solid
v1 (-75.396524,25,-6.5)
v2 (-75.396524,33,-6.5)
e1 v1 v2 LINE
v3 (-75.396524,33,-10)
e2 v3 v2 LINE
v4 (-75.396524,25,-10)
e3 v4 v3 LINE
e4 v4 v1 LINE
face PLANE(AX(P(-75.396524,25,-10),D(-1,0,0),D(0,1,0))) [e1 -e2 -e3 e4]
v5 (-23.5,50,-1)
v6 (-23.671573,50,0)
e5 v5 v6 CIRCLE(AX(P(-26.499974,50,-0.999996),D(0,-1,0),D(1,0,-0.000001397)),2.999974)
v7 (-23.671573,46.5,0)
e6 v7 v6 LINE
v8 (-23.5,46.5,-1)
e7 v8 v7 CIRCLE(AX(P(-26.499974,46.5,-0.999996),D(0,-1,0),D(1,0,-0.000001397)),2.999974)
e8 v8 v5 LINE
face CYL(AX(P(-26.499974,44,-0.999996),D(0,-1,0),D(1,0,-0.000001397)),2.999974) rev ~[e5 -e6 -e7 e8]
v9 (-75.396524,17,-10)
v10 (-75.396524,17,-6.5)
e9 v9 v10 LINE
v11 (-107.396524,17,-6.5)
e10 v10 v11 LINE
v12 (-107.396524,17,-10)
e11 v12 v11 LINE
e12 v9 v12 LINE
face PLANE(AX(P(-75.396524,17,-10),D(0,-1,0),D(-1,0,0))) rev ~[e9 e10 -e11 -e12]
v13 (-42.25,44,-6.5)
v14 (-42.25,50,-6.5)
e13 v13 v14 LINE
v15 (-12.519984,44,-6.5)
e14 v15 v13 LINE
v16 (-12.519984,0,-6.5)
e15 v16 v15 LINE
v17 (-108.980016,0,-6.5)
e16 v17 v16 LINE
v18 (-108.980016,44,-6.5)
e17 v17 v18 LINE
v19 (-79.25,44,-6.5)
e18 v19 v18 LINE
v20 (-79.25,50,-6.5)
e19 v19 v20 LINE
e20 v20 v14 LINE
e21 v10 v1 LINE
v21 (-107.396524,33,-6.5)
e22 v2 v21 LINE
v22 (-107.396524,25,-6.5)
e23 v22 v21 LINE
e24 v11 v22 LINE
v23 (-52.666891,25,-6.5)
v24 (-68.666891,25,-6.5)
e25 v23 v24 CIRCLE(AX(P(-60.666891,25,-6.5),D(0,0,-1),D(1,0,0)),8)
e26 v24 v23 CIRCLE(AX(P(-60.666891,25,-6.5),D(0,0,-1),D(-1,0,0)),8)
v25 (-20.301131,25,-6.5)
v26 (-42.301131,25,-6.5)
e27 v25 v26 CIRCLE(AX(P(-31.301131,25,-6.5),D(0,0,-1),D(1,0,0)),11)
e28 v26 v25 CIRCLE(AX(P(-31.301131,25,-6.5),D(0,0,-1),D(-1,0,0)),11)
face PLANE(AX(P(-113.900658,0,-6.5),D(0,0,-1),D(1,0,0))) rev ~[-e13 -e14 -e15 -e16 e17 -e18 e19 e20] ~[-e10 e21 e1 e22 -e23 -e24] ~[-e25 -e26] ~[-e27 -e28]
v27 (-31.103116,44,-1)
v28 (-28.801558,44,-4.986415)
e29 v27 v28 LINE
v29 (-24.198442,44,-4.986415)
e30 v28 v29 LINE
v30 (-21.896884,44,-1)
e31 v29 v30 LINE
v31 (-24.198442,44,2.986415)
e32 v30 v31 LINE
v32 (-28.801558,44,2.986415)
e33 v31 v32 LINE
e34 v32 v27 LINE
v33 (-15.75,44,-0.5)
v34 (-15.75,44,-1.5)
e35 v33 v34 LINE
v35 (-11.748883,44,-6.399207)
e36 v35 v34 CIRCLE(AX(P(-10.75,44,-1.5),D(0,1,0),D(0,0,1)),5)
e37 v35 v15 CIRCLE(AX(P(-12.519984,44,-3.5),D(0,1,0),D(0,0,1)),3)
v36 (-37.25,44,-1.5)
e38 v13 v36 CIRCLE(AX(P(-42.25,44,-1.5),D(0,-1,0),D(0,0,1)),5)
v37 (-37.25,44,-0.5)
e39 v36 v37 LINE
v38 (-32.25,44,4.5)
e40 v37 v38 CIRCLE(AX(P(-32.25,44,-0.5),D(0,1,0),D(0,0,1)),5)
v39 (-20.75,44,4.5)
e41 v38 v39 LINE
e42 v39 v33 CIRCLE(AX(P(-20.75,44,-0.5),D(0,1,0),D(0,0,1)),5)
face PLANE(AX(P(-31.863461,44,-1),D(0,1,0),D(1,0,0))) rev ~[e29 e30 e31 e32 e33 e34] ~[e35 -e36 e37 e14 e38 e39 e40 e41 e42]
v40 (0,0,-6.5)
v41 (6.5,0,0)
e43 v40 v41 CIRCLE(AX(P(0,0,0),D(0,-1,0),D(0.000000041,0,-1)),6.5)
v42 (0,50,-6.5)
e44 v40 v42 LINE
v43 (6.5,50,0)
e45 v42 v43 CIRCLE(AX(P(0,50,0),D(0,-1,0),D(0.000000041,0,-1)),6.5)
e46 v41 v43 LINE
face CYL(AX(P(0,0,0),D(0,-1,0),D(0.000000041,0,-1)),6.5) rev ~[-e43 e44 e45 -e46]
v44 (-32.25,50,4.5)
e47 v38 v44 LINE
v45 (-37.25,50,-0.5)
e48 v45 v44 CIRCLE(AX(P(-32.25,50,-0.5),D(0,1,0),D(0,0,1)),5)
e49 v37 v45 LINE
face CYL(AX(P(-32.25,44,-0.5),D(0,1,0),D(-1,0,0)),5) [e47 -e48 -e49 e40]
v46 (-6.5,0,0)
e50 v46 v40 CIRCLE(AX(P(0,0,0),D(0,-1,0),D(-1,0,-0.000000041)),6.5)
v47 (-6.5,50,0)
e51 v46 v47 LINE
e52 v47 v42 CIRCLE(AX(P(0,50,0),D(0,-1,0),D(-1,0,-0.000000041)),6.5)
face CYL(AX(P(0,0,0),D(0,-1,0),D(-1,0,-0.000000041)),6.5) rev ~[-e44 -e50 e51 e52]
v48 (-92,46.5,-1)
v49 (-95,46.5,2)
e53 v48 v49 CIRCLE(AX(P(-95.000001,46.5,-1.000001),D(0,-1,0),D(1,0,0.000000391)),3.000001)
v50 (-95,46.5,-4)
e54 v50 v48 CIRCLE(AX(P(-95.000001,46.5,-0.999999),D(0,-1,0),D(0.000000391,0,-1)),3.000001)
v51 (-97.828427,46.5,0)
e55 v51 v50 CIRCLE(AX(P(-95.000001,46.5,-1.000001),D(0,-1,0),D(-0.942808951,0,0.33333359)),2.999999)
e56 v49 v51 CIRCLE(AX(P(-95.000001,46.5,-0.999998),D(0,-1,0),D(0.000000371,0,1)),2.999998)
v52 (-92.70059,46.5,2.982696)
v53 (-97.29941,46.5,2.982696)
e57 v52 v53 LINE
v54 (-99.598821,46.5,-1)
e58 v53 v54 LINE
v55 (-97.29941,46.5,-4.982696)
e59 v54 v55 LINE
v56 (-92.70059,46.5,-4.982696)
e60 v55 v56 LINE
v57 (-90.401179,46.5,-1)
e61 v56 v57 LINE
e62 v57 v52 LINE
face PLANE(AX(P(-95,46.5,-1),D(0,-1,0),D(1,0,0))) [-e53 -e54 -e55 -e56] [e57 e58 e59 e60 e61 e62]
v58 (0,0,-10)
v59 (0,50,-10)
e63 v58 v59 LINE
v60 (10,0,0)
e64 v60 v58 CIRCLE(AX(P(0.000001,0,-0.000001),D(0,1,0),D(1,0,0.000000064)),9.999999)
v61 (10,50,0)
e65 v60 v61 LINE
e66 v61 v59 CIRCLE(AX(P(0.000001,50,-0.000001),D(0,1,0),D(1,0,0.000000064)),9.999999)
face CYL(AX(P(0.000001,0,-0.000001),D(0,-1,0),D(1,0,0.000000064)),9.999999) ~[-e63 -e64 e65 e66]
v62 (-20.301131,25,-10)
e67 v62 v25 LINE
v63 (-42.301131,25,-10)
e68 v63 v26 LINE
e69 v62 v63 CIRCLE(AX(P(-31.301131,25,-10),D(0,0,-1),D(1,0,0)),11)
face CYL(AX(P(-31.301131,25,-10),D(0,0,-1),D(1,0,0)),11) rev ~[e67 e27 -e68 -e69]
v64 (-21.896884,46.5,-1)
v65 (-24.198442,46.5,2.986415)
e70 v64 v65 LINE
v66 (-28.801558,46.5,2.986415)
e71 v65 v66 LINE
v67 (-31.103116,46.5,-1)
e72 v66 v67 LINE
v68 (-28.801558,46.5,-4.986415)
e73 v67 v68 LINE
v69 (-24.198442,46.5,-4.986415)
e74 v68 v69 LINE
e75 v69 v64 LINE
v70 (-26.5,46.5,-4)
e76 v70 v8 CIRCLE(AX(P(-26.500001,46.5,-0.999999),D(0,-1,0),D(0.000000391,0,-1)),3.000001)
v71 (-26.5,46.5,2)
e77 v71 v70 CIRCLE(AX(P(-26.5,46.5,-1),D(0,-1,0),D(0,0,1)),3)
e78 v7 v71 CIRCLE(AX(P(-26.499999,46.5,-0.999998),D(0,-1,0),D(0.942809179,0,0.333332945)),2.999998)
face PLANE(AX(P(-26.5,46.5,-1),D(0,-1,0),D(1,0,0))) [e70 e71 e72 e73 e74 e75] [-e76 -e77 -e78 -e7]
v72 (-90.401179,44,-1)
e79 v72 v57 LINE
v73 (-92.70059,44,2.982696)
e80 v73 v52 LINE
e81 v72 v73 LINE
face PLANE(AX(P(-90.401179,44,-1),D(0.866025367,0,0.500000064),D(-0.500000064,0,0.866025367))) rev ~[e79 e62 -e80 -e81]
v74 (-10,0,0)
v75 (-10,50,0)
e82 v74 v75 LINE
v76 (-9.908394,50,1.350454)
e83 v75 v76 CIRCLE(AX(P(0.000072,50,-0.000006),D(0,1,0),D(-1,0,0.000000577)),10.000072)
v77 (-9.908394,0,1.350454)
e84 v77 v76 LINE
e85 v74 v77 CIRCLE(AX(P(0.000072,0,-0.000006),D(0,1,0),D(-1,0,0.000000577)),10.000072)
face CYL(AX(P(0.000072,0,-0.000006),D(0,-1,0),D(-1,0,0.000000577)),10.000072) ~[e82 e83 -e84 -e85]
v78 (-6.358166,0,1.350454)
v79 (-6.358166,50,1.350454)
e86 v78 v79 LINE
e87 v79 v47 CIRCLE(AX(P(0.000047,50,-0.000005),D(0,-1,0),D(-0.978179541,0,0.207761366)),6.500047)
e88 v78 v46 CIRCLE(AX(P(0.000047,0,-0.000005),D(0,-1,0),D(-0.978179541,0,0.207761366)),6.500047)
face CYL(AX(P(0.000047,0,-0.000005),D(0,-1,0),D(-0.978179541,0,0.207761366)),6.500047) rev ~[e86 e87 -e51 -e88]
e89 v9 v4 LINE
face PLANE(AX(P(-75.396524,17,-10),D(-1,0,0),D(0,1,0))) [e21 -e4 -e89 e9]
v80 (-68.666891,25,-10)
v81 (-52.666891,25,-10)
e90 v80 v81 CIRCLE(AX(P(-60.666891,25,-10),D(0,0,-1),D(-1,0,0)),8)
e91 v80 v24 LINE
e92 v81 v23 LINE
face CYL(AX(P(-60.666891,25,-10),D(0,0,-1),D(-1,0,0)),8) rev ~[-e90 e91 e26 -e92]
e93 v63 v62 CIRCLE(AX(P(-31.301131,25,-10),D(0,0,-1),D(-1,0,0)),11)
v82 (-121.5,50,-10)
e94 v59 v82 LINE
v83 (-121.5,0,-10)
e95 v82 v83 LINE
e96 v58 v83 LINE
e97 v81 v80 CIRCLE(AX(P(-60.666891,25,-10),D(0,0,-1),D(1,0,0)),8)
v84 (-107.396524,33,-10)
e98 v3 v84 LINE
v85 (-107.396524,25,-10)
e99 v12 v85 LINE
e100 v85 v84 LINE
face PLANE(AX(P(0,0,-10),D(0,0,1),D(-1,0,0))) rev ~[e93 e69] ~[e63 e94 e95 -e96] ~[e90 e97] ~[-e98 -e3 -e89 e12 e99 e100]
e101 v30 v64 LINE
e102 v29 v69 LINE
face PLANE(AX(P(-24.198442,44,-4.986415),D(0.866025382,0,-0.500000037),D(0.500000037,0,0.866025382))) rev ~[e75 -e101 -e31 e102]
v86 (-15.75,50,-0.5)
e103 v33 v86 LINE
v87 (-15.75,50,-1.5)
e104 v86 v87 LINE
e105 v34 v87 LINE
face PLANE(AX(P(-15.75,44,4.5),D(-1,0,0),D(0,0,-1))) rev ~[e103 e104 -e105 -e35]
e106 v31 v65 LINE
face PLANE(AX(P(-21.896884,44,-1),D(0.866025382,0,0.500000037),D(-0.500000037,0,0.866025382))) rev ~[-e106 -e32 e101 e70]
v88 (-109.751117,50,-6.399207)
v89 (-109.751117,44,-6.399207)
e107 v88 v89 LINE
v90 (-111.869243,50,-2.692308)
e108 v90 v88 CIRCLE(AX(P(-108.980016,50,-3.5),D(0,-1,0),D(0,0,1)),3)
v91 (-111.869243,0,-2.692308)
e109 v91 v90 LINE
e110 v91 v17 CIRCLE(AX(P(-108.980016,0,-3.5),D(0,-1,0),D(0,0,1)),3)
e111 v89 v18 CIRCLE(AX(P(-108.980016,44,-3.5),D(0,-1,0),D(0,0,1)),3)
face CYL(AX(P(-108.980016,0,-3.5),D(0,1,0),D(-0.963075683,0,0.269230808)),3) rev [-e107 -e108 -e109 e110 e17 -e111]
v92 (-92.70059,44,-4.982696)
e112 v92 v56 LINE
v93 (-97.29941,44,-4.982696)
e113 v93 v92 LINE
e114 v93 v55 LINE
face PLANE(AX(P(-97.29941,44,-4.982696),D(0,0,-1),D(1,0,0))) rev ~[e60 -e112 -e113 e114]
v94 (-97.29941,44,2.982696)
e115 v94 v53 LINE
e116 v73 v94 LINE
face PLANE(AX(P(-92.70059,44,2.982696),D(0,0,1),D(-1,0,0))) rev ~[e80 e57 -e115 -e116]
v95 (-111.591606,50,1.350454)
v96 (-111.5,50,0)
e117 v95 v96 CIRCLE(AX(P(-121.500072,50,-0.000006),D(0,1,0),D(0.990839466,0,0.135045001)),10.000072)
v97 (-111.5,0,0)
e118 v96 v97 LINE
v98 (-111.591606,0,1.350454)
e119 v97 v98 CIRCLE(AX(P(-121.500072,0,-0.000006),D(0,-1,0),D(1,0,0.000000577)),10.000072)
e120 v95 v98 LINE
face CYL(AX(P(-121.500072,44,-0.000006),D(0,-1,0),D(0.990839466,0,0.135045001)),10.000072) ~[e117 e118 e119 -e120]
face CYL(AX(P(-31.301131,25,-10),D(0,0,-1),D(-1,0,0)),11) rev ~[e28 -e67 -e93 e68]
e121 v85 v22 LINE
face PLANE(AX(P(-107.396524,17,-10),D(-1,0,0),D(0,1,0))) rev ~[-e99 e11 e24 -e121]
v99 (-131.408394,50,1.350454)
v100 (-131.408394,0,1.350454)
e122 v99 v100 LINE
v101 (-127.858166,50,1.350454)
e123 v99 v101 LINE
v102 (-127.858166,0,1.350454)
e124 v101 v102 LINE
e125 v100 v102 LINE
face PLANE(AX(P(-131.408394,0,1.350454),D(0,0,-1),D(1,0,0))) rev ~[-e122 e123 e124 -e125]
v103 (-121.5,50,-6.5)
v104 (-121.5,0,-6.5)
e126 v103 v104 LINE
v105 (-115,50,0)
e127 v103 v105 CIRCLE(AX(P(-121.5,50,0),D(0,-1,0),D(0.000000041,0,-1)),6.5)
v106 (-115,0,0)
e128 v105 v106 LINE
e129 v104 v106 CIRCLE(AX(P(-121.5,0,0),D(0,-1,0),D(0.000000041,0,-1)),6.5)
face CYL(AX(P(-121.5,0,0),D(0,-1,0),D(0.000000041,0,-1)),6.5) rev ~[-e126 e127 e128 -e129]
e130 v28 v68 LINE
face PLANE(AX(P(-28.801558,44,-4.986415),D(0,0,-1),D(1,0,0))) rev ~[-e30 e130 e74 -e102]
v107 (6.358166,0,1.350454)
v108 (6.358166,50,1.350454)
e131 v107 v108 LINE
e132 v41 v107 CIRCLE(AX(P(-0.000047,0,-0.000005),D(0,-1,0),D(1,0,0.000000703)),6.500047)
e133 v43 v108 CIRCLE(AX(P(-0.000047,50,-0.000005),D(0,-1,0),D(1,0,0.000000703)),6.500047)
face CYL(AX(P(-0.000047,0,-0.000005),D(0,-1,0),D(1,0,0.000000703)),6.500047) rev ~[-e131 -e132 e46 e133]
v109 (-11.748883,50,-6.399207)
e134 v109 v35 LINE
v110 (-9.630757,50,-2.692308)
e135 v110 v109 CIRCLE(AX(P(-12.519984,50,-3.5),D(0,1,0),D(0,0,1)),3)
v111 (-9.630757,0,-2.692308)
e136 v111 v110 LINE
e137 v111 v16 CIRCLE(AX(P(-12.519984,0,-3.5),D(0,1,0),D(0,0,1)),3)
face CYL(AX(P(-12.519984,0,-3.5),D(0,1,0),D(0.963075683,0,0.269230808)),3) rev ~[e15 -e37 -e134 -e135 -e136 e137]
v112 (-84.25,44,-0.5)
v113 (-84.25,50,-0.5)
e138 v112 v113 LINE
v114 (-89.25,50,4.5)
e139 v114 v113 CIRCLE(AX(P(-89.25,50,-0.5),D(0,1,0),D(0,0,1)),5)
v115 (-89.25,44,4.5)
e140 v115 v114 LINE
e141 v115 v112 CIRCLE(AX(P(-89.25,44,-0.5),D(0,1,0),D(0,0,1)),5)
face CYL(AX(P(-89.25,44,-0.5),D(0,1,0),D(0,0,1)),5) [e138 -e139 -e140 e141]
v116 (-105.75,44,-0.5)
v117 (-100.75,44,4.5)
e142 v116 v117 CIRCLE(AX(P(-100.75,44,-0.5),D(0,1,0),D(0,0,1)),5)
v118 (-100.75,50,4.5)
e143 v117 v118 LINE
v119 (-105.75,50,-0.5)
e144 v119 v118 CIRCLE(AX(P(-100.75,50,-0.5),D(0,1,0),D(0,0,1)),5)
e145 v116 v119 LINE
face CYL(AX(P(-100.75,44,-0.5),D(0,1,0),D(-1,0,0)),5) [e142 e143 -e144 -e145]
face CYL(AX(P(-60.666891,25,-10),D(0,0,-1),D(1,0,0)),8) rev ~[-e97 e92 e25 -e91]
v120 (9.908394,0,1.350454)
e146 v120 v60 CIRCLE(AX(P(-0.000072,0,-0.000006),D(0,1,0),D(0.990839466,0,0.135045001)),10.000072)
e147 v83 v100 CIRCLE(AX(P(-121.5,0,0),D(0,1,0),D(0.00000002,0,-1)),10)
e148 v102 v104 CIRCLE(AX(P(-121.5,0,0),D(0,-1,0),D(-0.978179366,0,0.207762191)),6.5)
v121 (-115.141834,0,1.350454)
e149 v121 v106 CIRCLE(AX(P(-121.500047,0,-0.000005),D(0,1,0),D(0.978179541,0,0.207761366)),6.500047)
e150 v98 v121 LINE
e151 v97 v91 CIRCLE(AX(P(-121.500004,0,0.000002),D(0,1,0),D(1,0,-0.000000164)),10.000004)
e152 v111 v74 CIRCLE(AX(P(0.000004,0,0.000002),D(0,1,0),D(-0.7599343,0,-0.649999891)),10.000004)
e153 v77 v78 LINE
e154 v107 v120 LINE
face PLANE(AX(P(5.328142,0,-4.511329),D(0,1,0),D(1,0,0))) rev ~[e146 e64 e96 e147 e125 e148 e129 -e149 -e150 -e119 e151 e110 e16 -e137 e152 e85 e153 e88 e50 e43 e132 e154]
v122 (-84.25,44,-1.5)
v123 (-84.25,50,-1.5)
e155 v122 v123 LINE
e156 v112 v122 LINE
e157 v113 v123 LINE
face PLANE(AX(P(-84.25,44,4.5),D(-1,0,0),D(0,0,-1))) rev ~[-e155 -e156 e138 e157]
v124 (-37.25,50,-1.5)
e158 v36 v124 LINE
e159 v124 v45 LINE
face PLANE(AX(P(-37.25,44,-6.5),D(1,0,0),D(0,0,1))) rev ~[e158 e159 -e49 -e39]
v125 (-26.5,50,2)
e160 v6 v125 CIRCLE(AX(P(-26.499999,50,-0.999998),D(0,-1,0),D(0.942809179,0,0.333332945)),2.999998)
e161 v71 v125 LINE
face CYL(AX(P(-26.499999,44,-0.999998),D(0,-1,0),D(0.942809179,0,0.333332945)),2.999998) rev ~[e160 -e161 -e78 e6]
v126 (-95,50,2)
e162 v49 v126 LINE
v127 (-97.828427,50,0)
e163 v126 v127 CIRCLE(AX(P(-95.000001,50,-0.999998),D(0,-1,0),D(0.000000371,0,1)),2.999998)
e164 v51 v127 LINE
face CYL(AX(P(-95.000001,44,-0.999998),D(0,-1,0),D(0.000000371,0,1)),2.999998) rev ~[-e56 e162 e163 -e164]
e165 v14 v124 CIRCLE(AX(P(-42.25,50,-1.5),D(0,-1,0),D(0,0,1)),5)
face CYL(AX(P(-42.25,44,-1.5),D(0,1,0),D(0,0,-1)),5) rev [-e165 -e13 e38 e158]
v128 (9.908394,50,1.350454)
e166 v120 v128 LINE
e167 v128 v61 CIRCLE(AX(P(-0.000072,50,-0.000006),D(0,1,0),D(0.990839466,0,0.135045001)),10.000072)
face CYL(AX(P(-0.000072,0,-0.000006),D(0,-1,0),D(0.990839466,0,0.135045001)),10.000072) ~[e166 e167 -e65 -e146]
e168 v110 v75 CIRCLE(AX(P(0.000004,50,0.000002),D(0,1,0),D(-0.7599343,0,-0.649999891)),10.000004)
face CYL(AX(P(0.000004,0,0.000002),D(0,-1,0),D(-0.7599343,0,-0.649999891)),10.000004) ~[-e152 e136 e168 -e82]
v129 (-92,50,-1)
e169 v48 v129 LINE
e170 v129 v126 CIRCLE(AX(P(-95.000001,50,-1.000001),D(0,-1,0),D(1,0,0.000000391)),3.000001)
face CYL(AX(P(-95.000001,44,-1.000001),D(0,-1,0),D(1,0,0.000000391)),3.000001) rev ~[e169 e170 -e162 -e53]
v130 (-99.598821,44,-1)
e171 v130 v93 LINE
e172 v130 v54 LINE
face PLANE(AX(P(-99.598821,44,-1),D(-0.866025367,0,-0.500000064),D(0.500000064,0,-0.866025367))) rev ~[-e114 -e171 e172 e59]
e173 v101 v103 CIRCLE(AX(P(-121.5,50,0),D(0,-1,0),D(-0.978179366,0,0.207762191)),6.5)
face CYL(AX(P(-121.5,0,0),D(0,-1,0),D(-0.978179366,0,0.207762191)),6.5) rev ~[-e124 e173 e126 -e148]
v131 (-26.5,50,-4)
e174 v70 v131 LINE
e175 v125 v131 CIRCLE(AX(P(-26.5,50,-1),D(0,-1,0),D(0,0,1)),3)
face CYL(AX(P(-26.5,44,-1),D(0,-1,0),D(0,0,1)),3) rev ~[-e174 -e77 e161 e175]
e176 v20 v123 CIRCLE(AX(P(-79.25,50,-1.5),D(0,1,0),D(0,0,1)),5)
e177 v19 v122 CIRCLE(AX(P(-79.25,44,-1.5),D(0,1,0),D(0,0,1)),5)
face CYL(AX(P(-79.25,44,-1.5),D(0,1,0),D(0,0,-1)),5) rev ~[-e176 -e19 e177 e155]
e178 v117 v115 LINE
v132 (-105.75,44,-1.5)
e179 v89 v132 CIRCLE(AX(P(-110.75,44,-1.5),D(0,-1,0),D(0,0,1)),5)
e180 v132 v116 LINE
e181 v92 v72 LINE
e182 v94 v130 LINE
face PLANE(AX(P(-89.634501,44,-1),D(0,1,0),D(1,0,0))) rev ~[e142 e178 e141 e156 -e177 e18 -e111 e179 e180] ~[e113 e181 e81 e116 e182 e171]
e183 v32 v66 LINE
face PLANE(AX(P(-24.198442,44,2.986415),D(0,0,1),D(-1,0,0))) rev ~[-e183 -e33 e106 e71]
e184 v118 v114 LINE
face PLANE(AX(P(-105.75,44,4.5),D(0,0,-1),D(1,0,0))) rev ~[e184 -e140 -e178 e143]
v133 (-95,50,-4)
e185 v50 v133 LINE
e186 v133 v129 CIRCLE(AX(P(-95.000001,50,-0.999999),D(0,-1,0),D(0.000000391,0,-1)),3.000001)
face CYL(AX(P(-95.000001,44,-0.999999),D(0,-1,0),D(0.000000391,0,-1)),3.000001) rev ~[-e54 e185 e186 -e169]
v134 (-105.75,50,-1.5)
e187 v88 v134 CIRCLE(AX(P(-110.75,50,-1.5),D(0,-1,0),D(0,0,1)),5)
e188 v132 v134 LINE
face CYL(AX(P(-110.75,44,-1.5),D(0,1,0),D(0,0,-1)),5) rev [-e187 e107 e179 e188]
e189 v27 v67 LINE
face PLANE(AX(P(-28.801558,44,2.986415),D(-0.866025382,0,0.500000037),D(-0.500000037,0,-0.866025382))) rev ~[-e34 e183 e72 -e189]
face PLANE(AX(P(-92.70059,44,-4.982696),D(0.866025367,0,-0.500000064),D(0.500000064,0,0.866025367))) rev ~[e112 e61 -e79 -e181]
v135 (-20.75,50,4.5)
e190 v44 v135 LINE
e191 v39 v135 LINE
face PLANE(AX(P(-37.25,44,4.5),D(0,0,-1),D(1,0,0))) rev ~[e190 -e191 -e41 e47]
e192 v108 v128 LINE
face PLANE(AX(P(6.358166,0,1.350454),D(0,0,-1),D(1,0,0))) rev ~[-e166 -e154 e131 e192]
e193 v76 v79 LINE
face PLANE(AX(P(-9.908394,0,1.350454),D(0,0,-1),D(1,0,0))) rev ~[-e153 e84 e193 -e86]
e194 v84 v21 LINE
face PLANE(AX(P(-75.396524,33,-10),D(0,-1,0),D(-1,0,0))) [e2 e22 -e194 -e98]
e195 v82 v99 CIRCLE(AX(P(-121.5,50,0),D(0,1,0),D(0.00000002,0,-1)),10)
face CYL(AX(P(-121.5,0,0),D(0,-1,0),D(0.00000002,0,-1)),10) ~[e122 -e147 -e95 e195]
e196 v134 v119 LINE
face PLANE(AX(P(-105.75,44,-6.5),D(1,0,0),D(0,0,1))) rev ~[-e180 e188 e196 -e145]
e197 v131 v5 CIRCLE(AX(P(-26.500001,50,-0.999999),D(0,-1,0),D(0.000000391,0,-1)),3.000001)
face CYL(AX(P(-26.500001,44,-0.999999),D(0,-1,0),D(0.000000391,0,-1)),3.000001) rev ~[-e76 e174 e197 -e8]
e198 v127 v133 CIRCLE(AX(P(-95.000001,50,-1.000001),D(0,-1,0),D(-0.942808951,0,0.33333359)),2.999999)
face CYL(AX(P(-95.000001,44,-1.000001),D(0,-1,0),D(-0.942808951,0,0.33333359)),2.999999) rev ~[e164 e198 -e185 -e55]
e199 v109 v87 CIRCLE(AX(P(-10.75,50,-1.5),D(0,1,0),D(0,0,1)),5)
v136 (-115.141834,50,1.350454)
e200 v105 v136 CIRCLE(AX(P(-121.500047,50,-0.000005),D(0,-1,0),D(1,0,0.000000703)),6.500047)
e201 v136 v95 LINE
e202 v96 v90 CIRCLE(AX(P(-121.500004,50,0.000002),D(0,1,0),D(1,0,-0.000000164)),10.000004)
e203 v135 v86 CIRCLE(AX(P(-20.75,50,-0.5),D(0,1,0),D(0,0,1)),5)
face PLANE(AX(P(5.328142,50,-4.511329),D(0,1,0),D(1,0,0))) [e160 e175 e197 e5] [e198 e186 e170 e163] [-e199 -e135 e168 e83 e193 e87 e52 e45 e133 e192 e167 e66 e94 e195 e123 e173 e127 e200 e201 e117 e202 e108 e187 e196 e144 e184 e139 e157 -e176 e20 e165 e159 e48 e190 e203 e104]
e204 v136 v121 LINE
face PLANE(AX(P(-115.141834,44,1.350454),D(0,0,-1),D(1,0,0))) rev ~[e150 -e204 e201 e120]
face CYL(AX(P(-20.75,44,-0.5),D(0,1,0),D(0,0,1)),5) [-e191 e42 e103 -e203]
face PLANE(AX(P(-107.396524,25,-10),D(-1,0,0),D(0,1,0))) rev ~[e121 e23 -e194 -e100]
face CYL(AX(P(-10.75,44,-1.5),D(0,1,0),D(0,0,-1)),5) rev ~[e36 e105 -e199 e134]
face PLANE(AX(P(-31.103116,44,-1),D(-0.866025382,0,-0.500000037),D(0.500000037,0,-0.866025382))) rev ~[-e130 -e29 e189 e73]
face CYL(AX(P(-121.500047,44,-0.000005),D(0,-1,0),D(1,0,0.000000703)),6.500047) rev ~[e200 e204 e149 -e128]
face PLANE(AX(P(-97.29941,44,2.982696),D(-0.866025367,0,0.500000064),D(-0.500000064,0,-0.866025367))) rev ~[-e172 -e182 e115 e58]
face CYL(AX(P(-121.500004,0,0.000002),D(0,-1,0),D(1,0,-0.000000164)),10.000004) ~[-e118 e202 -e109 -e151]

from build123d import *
from build123d.topology import SkipClean

# Parameters (mm, degrees)
BOSS_EXTRUDE2_DEPTH = 50
BOSS_EXTRUDE3_START = -6
BOSS_EXTRUDE3_DEPTH = 6
BOSS_EXTRUDE4_START = 44
BOSS_EXTRUDE4_DEPTH = 44
FILLET1_R           = 5
FILLET2_R           = 3
CUT_EXTRUDE3_DEPTH  = 2.5
SKETCH6_W           = 32
SKETCH6_H           = 8
CUT_EXTRUDE4_DEPTH  = 10


with BuildPart() as part:
    # Sketch1 → Boss-Extrude2 (new body)
    with BuildSketch(Plane(origin=(0, 0, 0), x_dir=(1, 0, 0), z_dir=(0, 1, 0))):
        with BuildLine():
            Line((0, 10), (0, 6.5))
            ThreePointArc((0, 6.5), (4.596194, 4.596194), (6.5, 0))
            ThreePointArc((6.5, 0), (6.464444, -0.678941), (6.358166, -1.350454))
            Line((6.358166, -1.350454), (9.908394, -1.350454))
            ThreePointArc((9.908394, -1.350454), (9.977072, -0.676779), (10, 0))
            ThreePointArc((10, 0), (7.071068, 7.071068), (0, 10))
        make_face()
        with BuildLine():
            ThreePointArc((0, 10), (-4.1833, 9.082951), (-7.599342, 6.5))
            Line((-7.599342, 6.5), (0, 6.5))
            Line((0, 6.5), (0, 10))
        make_face()
        with BuildLine():
            ThreePointArc((-121.5, 10), (-117.3167, 9.082951), (-113.900658, 6.5))
            Line((-113.900658, 6.5), (-7.599342, 6.5))
            ThreePointArc((-7.599342, 6.5), (-4.1833, 9.082951), (0, 10))
            Line((0, 10), (-121.5, 10))
        make_face()
        with BuildLine():
            ThreePointArc((-7.599342, 6.5), (-9.380656, 3.464576), (-10, 0))
            Line((-10, 0), (-6.5, 0))
            ThreePointArc((-6.5, 0), (-4.596194, 4.596194), (0, 6.5))
            Line((0, 6.5), (-7.599342, 6.5))
        make_face()
        with BuildLine():
            Line((-6.5, 0), (-10, 0))
            ThreePointArc((-10, 0), (-9.977072, -0.676779), (-9.908394, -1.350454))
            Line((-9.908394, -1.350454), (-6.358166, -1.350454))
            ThreePointArc((-6.358166, -1.350454), (-6.464444, -0.678941), (-6.5, 0))
        make_face()
        with BuildLine():
            Line((-115, 0), (-111.5, 0))
            ThreePointArc((-111.5, 0), (-112.119344, 3.464576), (-113.900658, 6.5))
            Line((-113.900658, 6.5), (-121.5, 6.5))
            ThreePointArc((-121.5, 6.5), (-116.903806, 4.596194), (-115, 0))
        make_face()
        with BuildLine():
            Line((-121.5, 6.5), (-113.900658, 6.5))
            ThreePointArc((-113.900658, 6.5), (-117.3167, 9.082951), (-121.5, 10))
            ThreePointArc((-121.5, 10), (-129.03341, 6.576301), (-131.408394, -1.350454))
            Line((-131.408394, -1.350454), (-127.858166, -1.350454))
            ThreePointArc((-127.858166, -1.350454), (-126.551136, 4.090969), (-121.5, 6.5))
        make_face()
    extrude(amount=BOSS_EXTRUDE2_DEPTH)

    # Sketch2 → Boss-Extrude3 (add)
    with BuildSketch(Plane(origin=(0, 50, 0), x_dir=(1, 0, 0), z_dir=(0, 1, 0)).offset(BOSS_EXTRUDE3_START)):
        with BuildLine():
            Line((-84.25, -4.5), (-84.25, 6.5))
            Line((-84.25, 6.5), (-95, 6.5))
            Line((-95, 6.5), (-95, 4))
            ThreePointArc((-95, 4), (-92.87868, 3.12132), (-92, 1))
            ThreePointArc((-92, 1), (-92.87868, -1.12132), (-95, -2))
            Line((-95, -2), (-95, -4.5))
            Line((-95, -4.5), (-84.25, -4.5))
        make_face()
        with BuildLine():
            Line((-105.75, -4.5), (-95, -4.5))
            Line((-95, -4.5), (-95, -2))
            ThreePointArc((-95, -2), (-96.732051, -1.44949), (-97.828427, 0))
            Line((-97.828427, 0), (-105.75, 0))
            Line((-105.75, 0), (-105.75, -4.5))
        make_face()
        with BuildLine():
            Line((-95, 4), (-95, 6.5))
            Line((-95, 6.5), (-105.75, 6.5))
            Line((-105.75, 6.5), (-105.75, 0))
            Line((-105.75, 0), (-97.828427, 0))
            ThreePointArc((-97.828427, 0), (-97.44949, 2.732051), (-95, 4))
        make_face()
        with BuildLine():
            Line((-26.5, 6.5), (-37.25, 6.5))
            Line((-37.25, 6.5), (-37.25, -4.5))
            Line((-37.25, -4.5), (-26.5, -4.5))
            Line((-26.5, -4.5), (-26.5, -2))
            ThreePointArc((-26.5, -2), (-29.5, 1), (-26.5, 4))
            Line((-26.5, 4), (-26.5, 6.5))
        make_face()
        with BuildLine():
            Line((-15.75, 6.5), (-26.5, 6.5))
            Line((-26.5, 6.5), (-26.5, 4))
            ThreePointArc((-26.5, 4), (-24.37868, 3.12132), (-23.5, 1))
            ThreePointArc((-23.5, 1), (-23.543204, 0.492694), (-23.671573, 0))
            Line((-23.671573, 0), (-15.75, 0))
            Line((-15.75, 0), (-15.75, 6.5))
        make_face()
        with BuildLine():
            Line((-26.5, -2), (-26.5, -4.5))
            Line((-26.5, -4.5), (-15.75, -4.5))
            Line((-15.75, -4.5), (-15.75, 0))
            Line((-15.75, 0), (-23.671573, 0))
            ThreePointArc((-23.671573, 0), (-24.767949, -1.44949), (-26.5, -2))
        make_face()
        with BuildLine():
            ThreePointArc((-111.5, 0), (-112.119344, 3.464576), (-113.900658, 6.5))
            ThreePointArc((-113.900658, 6.5), (-125.591496, 9.124673), (-131.408394, -1.350454))
            Line((-131.408394, -1.350454), (-127.858166, -1.350454))
            ThreePointArc((-127.858166, -1.350454), (-122.178941, 6.464444), (-115, 0))
            Line((-115, 0), (-111.5, 0))
        make_face()
        with BuildLine():
            ThreePointArc((-111.591606, -1.350454), (-111.522928, -0.676779), (-111.5, 0))
            Line((-111.5, 0), (-115, 0))
            ThreePointArc((-115, 0), (-115.035556, -0.678941), (-115.141834, -1.350454))
            Line((-115.141834, -1.350454), (-111.591606, -1.350454))
        make_face()
    extrude(amount=BOSS_EXTRUDE3_DEPTH)

    # Sketch3 → Boss-Extrude4 (add)
    with SkipClean():  # the faces are left unmerged after this step: merging them gives an invalid solid
        with BuildSketch(Plane.XZ.offset(-44).offset(BOSS_EXTRUDE4_START)):
            with BuildLine():
                Line((-111.591606, 1.350454), (-115.141834, 1.350454))
                ThreePointArc((-115.141834, 1.350454), (-115.035556, 0.678941), (-115, 0))
                Line((-115, 0), (-111.5, 0))
                ThreePointArc((-111.5, 0), (-111.522928, 0.676779), (-111.591606, 1.350454))
            make_face()
        extrude(amount=-BOSS_EXTRUDE4_DEPTH)

    # Fillet1
    fillet1_edges = [part.edges().sort_by_distance(p)[0] for p in [
        (-105.75, 47, 4.5),
        (-105.75, 47, -6.5),
        (-84.25, 47, -6.5),
        (-84.25, 47, 4.5),
        (-15.75, 47, -6.5),
        (-15.75, 47, 4.5),
        (-37.25, 47, 4.5),
        (-37.25, 47, -6.5),
    ]]
    fillet(fillet1_edges, radius=FILLET1_R)

    # Fillet2
    fillet2_edges = [part.edges().sort_by_distance(p)[0] for p in [
        (-7.599342, 25, -6.5),
        (-113.900658, 25, -6.5),
    ]]
    fillet(fillet2_edges, radius=FILLET2_R)

    # Sketch5 → Cut-Extrude3 (cut)
    with SkipClean():  # the faces are left unmerged after this step: merging them gives an invalid solid
        with BuildSketch(Plane.XZ.offset(-44)):
            Polygon((-21.896884, -1), (-24.198442, 2.986415), (-28.801558, 2.986415), (-31.103116, -1), (-28.801558, -4.986415), (-24.198442, -4.986415), align=None)
            Polygon((-90.401179, -1), (-92.70059, 2.982696), (-97.29941, 2.982696), (-99.598821, -1), (-97.29941, -4.982696), (-92.70059, -4.982696), align=None)
        extrude(amount=-CUT_EXTRUDE3_DEPTH, mode=Mode.SUBTRACT)

    # Sketch6 → Cut-Extrude4 (cut)
    with SkipClean():  # the faces are left unmerged after this step: merging them gives an invalid solid
        with BuildSketch(Plane(origin=(0, 0, -10), x_dir=(-1, 0, 0), z_dir=(0, 0, -1))):
            with Locations((91.396524, 21)):
                Rectangle(SKETCH6_W, SKETCH6_H)
            with Locations((91.396524, 29)):
                Rectangle(SKETCH6_W, SKETCH6_H)
            with BuildLine():
                ThreePointArc((68.666891, 25), (60.666891, 33), (52.666891, 25))
                Line((52.666891, 25), (68.666891, 25))
            make_face()
            with BuildLine():
                Line((68.666891, 25), (52.666891, 25))
                ThreePointArc((52.666891, 25), (60.666891, 17), (68.666891, 25))
            make_face()
            with BuildLine():
                ThreePointArc((20.301131, 25), (31.301131, 14), (42.301131, 25))
                Line((42.301131, 25), (20.301131, 25))
            make_face()
            with BuildLine():
                Line((20.301131, 25), (42.301131, 25))
                ThreePointArc((42.301131, 25), (31.301131, 36), (20.301131, 25))
            make_face()
        extrude(amount=-CUT_EXTRUDE4_DEPTH, mode=Mode.SUBTRACT)


solid = part.part
